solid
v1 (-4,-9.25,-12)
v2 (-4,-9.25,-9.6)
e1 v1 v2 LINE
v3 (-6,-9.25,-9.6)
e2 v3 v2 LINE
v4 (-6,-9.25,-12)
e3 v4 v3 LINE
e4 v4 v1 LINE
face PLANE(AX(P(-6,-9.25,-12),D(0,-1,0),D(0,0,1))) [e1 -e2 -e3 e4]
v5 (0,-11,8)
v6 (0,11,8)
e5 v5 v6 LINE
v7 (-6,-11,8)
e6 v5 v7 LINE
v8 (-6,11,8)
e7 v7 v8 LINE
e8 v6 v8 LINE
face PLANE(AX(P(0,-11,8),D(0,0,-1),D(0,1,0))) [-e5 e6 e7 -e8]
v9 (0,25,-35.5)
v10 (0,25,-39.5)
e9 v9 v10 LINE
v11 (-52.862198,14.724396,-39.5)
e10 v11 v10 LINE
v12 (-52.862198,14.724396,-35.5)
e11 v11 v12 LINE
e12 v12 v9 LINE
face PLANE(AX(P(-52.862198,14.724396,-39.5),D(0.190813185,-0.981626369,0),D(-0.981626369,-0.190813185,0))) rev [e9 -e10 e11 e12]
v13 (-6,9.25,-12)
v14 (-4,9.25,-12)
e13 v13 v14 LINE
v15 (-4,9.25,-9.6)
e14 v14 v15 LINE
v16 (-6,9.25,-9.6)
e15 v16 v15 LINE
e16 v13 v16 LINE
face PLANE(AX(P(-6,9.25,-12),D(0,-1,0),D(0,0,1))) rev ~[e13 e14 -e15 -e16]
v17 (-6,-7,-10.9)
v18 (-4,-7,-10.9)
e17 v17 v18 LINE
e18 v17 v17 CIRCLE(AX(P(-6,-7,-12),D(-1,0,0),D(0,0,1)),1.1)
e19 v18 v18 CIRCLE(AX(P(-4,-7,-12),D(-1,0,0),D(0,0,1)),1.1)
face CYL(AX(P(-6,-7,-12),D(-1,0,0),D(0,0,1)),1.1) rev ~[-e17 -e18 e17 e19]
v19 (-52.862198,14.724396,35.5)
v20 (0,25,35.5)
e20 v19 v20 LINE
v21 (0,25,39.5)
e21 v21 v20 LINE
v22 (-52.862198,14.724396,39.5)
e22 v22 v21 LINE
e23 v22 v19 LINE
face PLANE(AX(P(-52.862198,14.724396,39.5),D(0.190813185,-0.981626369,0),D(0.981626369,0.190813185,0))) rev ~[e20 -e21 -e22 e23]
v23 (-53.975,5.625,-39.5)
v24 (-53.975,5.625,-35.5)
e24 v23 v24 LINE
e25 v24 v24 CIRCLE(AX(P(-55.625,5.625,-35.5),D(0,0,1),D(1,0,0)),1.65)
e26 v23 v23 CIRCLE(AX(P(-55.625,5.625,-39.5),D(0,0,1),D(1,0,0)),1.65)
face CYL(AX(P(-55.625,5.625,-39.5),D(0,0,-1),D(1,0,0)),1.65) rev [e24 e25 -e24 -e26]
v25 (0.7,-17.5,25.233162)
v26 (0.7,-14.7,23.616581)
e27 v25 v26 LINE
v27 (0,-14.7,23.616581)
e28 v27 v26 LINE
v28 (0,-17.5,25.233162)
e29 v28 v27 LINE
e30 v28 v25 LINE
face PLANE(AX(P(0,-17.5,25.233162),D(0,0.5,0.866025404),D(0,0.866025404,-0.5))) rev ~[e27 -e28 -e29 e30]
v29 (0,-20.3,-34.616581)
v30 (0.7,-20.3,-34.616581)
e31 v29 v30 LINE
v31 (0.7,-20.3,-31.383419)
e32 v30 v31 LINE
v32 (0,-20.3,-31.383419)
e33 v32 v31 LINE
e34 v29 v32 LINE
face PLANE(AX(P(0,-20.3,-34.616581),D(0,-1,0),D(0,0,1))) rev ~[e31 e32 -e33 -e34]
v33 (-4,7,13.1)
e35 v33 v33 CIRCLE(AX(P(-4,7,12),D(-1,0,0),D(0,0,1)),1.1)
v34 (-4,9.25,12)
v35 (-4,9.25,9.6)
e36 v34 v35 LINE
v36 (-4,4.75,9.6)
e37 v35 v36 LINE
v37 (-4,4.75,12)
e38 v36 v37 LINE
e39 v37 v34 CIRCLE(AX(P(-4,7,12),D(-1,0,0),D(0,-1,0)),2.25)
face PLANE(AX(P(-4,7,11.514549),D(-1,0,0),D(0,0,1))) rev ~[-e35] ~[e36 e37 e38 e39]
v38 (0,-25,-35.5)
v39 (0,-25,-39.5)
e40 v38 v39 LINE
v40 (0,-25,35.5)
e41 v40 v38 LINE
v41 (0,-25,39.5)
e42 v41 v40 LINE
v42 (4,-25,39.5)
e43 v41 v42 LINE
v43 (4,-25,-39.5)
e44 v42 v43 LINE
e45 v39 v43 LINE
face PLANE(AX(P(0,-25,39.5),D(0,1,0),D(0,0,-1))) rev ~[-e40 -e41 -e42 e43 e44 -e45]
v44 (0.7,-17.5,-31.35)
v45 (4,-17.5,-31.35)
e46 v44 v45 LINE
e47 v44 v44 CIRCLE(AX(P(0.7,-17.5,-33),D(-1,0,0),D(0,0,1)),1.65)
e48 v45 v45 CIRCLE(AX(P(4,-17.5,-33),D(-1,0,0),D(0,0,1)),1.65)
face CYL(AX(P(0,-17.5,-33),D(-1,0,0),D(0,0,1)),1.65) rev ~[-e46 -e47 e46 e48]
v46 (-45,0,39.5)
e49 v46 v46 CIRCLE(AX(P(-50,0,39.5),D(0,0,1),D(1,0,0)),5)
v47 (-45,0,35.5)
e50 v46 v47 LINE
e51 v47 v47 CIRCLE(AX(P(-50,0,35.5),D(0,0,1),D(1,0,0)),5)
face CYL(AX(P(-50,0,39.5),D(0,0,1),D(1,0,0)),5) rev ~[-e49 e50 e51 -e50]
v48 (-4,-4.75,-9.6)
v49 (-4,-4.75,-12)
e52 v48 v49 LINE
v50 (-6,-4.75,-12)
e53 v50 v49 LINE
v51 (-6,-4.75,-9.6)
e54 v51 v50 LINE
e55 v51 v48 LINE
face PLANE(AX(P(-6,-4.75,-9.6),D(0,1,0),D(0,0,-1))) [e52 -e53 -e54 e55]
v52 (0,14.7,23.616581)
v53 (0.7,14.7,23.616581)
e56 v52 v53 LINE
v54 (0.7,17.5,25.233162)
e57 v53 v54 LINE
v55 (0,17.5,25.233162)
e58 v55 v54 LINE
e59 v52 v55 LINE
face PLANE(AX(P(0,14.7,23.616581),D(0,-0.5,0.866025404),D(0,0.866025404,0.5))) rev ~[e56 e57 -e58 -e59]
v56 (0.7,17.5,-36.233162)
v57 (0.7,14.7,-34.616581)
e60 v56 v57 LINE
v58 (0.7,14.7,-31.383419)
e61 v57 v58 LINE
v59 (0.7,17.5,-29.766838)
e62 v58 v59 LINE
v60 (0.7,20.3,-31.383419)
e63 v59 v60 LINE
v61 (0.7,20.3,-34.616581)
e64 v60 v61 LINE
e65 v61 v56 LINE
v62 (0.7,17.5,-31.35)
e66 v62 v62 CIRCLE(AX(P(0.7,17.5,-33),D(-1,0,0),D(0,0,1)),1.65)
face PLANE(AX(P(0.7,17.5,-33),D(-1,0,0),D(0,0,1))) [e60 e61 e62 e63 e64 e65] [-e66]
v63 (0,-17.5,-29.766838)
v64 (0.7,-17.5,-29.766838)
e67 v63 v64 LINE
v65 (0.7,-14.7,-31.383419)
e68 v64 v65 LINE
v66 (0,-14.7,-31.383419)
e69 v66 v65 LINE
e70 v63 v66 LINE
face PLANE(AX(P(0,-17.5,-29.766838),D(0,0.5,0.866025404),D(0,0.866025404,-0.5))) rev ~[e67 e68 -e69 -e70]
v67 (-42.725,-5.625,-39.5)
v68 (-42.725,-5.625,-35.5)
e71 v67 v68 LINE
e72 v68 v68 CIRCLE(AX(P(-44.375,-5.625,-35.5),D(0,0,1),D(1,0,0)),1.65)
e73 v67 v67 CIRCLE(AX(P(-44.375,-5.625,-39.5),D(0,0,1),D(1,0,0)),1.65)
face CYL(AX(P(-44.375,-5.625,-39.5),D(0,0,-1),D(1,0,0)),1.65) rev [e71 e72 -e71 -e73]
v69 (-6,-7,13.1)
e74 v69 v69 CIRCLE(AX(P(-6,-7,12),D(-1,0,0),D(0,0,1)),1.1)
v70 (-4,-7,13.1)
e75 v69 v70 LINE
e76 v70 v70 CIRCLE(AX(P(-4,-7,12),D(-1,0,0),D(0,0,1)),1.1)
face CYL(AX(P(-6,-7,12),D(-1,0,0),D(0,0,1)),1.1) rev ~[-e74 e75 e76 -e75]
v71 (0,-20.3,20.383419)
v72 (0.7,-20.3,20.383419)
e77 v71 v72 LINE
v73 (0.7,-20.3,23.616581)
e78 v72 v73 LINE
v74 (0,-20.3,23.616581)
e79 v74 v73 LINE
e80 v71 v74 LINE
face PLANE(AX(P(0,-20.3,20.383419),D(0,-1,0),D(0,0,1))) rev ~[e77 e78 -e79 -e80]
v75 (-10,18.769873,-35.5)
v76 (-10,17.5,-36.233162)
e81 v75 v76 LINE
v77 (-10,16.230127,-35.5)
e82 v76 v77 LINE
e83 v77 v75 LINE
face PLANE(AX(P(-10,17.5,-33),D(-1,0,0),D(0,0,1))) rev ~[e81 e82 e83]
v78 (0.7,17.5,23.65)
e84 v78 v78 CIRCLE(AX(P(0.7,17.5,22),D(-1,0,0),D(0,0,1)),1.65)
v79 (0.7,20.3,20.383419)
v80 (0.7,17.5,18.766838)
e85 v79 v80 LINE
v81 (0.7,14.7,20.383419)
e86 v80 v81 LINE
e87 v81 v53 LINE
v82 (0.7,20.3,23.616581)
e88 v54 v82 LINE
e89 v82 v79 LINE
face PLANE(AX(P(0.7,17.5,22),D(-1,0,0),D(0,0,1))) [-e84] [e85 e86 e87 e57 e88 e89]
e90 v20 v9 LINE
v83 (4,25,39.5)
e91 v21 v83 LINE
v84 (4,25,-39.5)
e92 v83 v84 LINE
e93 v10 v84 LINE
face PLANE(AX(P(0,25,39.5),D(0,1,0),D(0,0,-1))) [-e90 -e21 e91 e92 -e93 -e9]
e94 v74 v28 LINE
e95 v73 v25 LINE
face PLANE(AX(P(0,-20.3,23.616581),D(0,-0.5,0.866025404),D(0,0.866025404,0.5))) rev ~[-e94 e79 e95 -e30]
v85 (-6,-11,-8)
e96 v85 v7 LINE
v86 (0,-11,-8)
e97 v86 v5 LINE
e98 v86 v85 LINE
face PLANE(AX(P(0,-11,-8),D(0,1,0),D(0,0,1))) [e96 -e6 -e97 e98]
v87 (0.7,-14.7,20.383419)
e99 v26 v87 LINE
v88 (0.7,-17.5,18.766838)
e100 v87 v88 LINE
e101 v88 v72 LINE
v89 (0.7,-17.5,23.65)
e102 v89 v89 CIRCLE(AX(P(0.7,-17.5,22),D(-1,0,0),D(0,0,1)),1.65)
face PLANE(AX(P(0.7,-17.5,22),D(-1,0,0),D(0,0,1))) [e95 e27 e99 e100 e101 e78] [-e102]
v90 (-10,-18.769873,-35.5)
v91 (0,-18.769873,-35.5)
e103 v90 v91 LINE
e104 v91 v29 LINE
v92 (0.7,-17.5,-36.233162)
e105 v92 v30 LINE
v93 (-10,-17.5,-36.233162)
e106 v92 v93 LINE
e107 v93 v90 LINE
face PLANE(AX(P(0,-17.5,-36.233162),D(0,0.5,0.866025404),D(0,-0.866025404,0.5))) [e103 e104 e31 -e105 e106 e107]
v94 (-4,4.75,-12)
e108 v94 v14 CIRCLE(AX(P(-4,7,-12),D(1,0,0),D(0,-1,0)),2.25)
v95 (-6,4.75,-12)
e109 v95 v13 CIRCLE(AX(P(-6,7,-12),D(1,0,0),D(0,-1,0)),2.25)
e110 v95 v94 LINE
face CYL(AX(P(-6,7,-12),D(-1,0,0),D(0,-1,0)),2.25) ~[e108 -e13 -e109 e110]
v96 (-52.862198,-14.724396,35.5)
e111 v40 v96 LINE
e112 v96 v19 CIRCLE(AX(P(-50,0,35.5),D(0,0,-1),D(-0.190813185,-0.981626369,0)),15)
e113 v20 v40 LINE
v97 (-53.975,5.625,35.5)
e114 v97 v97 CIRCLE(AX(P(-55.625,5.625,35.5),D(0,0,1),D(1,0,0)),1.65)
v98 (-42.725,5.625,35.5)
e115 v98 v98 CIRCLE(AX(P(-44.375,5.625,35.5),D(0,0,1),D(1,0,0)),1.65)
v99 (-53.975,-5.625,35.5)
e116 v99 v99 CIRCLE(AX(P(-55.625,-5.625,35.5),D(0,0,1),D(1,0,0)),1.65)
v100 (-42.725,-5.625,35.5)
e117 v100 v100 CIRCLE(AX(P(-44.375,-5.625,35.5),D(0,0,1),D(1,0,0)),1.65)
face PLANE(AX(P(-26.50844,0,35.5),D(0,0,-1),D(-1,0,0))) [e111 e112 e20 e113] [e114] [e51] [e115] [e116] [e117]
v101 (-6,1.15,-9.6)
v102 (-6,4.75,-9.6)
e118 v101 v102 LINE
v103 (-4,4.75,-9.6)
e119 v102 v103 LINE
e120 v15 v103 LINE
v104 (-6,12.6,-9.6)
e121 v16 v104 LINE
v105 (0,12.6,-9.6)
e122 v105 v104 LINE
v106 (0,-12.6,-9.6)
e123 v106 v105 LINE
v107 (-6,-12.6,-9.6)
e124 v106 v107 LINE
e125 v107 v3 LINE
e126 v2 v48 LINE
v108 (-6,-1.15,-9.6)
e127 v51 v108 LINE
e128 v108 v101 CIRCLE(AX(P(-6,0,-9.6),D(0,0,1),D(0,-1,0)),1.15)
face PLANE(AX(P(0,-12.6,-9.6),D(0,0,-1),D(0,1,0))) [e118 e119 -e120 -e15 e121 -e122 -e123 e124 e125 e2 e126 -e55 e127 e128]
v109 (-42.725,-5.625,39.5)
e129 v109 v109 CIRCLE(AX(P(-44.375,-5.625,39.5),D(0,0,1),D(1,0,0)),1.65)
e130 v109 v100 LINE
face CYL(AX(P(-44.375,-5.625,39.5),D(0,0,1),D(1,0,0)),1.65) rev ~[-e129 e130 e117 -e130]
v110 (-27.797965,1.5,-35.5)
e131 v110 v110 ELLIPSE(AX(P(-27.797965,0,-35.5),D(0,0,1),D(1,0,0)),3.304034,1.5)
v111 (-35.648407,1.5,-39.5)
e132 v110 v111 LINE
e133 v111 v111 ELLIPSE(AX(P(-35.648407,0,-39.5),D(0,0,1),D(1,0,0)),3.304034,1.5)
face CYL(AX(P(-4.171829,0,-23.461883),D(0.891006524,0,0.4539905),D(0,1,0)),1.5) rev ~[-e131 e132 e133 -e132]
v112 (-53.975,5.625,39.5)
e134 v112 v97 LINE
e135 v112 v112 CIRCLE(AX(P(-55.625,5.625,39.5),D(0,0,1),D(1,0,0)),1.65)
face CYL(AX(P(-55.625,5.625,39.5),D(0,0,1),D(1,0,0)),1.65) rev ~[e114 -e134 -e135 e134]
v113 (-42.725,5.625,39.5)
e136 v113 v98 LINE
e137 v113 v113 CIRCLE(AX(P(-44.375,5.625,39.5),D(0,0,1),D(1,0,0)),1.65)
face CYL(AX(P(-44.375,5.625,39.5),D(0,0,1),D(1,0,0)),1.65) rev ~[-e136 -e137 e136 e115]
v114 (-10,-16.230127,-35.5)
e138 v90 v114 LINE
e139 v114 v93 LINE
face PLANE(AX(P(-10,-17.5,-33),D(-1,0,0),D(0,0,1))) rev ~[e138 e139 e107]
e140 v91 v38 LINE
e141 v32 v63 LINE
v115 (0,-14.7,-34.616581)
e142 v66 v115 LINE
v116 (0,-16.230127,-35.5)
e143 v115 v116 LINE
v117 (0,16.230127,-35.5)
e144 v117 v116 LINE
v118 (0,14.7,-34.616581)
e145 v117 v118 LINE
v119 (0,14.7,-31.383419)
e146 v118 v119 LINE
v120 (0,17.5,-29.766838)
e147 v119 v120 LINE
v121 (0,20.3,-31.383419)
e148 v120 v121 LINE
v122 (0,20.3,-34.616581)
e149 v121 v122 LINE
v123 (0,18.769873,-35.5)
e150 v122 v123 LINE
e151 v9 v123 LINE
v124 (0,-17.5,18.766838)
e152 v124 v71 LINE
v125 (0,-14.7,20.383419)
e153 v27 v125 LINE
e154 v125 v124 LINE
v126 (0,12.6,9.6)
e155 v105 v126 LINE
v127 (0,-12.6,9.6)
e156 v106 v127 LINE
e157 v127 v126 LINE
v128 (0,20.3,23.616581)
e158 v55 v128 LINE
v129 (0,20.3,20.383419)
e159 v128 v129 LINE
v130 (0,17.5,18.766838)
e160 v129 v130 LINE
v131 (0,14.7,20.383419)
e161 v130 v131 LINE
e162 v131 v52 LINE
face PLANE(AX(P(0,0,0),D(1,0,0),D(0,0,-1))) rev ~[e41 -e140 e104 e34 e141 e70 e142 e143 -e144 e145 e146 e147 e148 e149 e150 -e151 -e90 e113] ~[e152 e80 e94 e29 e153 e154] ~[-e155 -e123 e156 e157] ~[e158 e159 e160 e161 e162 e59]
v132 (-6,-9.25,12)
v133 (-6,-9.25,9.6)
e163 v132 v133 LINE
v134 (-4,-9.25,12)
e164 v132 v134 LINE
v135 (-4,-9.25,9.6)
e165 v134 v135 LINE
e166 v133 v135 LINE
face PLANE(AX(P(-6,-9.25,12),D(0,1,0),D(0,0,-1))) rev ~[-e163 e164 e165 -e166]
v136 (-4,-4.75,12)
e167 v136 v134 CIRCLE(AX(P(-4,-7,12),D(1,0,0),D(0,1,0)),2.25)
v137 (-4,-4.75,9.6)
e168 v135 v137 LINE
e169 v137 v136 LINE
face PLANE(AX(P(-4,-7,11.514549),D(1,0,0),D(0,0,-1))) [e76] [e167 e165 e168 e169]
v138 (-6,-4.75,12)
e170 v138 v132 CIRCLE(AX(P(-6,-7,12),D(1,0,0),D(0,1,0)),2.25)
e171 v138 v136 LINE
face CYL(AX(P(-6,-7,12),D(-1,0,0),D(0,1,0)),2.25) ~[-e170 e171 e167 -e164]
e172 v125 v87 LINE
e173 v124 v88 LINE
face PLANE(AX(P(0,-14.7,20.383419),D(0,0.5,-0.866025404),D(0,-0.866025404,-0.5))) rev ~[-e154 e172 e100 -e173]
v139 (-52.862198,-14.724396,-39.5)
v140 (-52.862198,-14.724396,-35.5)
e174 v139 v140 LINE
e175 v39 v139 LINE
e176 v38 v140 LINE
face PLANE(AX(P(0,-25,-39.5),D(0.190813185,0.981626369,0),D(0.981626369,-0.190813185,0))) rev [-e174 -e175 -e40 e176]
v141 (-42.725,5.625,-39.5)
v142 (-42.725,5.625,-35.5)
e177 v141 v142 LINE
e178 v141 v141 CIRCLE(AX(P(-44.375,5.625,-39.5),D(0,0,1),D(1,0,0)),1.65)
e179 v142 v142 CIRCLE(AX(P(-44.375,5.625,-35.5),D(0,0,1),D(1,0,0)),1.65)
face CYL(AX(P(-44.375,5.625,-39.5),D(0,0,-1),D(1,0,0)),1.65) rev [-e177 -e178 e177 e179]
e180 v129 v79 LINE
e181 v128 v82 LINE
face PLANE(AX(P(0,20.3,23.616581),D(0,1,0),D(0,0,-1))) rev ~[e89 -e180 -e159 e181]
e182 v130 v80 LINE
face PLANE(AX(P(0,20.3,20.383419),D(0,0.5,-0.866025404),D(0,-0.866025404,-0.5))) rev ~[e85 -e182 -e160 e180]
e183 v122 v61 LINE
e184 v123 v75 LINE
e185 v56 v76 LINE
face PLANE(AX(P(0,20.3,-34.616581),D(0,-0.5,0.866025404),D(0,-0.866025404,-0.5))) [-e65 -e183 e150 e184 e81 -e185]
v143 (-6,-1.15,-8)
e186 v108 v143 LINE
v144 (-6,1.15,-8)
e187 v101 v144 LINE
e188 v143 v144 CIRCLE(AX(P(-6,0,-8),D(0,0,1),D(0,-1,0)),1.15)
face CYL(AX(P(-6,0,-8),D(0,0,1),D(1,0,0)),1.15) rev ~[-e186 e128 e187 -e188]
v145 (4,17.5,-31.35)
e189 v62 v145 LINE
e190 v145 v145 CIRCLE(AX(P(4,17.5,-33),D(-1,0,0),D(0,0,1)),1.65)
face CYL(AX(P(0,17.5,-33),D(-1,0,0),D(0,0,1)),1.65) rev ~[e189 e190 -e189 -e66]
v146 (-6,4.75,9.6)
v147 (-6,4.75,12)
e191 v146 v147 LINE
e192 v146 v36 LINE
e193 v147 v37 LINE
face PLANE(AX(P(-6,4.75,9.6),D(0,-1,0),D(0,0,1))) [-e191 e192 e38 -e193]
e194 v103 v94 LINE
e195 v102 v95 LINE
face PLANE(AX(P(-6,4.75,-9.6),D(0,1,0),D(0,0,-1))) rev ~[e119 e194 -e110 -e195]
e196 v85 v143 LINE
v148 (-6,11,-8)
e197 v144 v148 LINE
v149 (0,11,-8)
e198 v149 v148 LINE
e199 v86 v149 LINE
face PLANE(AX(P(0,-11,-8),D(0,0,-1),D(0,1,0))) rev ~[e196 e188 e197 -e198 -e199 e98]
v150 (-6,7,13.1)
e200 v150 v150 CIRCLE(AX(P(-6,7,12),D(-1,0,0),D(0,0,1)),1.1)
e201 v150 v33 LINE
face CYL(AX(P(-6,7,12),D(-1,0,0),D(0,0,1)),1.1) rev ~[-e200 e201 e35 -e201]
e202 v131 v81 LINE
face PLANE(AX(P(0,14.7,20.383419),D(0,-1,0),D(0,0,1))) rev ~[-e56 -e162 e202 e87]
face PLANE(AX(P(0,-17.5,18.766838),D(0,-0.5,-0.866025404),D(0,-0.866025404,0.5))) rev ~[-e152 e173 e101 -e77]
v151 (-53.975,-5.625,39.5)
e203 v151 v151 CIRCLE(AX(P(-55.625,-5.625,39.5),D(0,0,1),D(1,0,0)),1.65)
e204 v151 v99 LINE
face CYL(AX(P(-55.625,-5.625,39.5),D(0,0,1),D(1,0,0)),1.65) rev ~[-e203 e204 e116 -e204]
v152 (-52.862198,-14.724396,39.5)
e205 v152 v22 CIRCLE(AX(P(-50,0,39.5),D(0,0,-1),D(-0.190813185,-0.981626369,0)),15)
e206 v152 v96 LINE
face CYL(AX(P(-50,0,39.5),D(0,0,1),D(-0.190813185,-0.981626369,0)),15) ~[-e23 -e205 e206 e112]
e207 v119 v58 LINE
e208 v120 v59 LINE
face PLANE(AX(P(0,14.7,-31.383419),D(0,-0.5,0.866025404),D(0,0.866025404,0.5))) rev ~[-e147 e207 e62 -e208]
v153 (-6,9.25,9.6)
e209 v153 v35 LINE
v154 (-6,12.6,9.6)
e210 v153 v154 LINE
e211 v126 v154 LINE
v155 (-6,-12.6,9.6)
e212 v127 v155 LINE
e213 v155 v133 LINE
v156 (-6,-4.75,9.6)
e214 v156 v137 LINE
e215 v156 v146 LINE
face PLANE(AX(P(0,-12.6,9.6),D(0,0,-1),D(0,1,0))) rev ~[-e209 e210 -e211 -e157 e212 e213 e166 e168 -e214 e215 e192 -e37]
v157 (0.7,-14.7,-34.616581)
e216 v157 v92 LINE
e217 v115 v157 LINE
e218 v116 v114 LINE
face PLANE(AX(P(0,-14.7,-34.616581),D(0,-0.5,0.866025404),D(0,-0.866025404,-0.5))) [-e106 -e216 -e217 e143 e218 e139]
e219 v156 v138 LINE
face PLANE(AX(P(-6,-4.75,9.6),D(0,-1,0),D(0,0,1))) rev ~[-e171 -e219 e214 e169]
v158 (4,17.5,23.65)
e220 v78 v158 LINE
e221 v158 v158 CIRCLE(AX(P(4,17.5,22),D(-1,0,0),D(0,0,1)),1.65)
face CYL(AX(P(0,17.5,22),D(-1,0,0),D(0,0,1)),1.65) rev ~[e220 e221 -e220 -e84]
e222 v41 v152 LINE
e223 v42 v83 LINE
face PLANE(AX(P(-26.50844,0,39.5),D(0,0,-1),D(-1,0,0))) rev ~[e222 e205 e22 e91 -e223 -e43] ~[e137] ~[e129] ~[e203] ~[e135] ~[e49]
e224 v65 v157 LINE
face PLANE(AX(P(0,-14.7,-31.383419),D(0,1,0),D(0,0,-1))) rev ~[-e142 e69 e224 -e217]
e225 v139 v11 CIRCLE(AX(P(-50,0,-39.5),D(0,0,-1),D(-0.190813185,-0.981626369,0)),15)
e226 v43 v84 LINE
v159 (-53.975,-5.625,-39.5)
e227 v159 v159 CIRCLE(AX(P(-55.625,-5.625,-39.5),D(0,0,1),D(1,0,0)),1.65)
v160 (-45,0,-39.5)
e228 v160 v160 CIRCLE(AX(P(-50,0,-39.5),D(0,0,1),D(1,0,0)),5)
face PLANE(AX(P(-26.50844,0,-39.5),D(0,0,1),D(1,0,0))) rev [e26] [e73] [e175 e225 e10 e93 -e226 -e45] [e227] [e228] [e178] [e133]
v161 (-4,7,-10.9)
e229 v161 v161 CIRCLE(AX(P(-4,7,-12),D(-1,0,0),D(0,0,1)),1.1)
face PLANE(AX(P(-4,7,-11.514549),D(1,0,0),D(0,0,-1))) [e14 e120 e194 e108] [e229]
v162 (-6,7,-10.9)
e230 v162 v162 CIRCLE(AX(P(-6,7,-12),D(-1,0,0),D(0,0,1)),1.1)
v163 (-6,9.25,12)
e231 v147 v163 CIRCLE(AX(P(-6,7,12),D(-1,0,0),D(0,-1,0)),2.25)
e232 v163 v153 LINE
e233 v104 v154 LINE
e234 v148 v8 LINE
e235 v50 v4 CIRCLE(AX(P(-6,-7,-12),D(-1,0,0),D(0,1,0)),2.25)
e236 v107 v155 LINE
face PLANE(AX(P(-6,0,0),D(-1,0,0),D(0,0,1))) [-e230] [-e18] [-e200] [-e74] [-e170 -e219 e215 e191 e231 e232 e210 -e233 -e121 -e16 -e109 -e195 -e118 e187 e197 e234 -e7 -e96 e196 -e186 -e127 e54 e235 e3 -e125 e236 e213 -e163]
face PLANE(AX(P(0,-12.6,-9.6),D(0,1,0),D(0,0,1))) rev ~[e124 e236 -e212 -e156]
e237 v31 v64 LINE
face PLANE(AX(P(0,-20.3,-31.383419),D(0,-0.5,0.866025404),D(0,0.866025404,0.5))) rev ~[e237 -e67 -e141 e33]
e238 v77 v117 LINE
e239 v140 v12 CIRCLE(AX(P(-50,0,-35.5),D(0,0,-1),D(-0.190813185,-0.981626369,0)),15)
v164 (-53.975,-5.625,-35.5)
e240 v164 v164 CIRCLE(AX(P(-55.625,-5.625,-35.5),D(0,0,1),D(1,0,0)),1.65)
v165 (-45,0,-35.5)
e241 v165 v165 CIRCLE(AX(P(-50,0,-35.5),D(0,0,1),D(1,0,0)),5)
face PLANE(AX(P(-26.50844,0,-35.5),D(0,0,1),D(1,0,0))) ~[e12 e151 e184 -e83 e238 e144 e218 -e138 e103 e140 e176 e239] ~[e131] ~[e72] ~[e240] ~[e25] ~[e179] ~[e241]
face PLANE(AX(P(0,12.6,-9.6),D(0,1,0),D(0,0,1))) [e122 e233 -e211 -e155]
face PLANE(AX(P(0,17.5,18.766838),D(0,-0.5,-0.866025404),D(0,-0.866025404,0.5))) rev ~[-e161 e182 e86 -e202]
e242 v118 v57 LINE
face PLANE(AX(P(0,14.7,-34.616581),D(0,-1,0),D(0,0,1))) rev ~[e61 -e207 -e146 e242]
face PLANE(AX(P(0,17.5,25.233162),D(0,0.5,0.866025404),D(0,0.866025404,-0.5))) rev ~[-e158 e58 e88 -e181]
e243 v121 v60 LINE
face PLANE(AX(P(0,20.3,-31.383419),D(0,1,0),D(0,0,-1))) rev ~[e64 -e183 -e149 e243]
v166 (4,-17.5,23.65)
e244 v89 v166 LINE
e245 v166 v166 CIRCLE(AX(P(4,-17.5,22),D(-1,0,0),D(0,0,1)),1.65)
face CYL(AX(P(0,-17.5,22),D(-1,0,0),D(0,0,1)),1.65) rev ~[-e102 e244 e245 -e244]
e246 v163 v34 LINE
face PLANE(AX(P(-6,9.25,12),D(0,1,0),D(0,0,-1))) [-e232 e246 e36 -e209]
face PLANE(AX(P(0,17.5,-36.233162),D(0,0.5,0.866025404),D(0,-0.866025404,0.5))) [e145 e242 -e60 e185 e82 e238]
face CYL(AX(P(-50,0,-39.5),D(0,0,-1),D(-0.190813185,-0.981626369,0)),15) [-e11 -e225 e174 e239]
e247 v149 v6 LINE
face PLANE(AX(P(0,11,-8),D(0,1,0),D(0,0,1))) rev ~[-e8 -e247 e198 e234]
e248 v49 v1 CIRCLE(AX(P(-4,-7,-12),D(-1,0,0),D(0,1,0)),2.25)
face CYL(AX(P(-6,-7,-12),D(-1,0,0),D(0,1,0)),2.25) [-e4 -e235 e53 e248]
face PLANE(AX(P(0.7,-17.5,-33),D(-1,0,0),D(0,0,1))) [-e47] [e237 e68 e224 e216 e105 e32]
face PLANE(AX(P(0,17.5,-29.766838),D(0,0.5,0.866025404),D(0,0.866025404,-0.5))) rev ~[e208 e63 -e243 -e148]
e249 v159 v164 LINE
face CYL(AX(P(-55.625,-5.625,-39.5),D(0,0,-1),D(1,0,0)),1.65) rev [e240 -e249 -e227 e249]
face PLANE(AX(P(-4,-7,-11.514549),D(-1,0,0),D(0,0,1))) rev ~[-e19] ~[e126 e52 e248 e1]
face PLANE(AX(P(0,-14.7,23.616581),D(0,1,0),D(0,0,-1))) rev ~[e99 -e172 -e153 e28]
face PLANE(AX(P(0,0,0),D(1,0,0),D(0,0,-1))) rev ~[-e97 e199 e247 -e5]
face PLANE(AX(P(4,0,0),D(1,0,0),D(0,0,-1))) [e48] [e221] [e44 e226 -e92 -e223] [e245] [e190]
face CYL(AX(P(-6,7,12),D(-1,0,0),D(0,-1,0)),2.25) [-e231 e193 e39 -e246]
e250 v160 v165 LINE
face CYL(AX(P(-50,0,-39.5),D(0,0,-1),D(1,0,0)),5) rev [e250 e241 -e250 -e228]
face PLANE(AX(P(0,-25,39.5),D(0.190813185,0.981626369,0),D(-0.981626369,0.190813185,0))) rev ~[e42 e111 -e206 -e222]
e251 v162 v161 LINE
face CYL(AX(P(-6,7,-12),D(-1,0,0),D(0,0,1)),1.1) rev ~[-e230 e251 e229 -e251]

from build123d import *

# Parameters (mm, degrees)
SKETCH_2_W               = 79
SKETCH_2_H               = 50
EXTRUDE_1_DEPTH          = 4
SKETCH_3_R               = 5
SKETCH_3_R_2             = 1.65
EXTRUDE_2_DEPTH          = 4
SKETCH_4_W               = 19.2
SKETCH_4_H               = 25.2
SKETCH_4_W_2             = 16
SKETCH_4_H_2             = 22
EXTRUDE_3_DEPTH          = 6
SKETCH_5_R               = 1.1
EXTRUDE_4_DEPTH          = 2
SKETCH_6_R               = 1.15
CUT_EXTRUDE_1_DEPTH      = 2
SKETCH_7_R               = 1.5
CUT_EXTRUDE_2_DEPTH      = 69
SKETCH_8_R               = 1.65
CUT_EXTRUDE_3_DEPTH      = 5
CUT_EXTRUDE_4_DEPTH      = 10
CUT_EXTRUDE_4_DEPTH_BACK = 0.7


with BuildPart() as part:
    # 草图2 → 凸台-拉伸1 (new body)
    with BuildSketch(Plane(origin=(0, 0, 0), x_dir=(0, 0, -1), z_dir=(1, 0, 0))):
        Rectangle(SKETCH_2_W, SKETCH_2_H)
    extrude(amount=EXTRUDE_1_DEPTH)

    # 草图3 → 凸台-拉伸2 (add)
    with BuildSketch(Plane.XY.offset(39.5)):
        with BuildLine():
            Line((-52.862197769, 14.724395537), (0, 25))
            Line((0, 25), (0, -25))
            Line((0, -25), (-52.862197769, -14.724395537))
            ThreePointArc((-52.862197769, -14.724395537), (-65, 0), (-52.862197769, 14.724395537))
        make_face()
        with Locations((-50, 0)):
            Circle(SKETCH_3_R, mode=Mode.SUBTRACT)
        with Locations((-55.625, 5.625)):
            Circle(SKETCH_3_R_2, mode=Mode.SUBTRACT)
        with Locations((-44.375, 5.625)):
            Circle(SKETCH_3_R_2, mode=Mode.SUBTRACT)
        with Locations((-44.375, -5.625)):
            Circle(SKETCH_3_R_2, mode=Mode.SUBTRACT)
        with Locations((-55.625, -5.625)):
            Circle(SKETCH_3_R_2, mode=Mode.SUBTRACT)
    extrude_2 = extrude(amount=-EXTRUDE_2_DEPTH)

    # 镜向1: 凸台-拉伸2 across plane
    add(extrude_2.mirror(Plane.XY))

    # 草图4 → 凸台-拉伸3 (add)
    with BuildSketch(Plane.ZY):
        Rectangle(SKETCH_4_W, SKETCH_4_H)
        Rectangle(SKETCH_4_W_2, SKETCH_4_H_2, mode=Mode.SUBTRACT)
    extrude(amount=EXTRUDE_3_DEPTH)

    # 草图5 → 凸台-拉伸4 (add)
    with BuildSketch(Plane.ZY.offset(6)):
        with BuildLine():
            Line((12, 9.25), (9.6, 9.25))
            Line((9.6, 9.25), (9.6, 4.75))
            Line((9.6, 4.75), (12, 4.75))
            ThreePointArc((12, 4.75), (14.25, 7), (12, 9.25))
        make_face()
        with Locations((12, 7)):
            Circle(SKETCH_5_R, mode=Mode.SUBTRACT)
        with BuildLine():
            Line((9.6, -9.25), (9.6, -4.75))
            Line((9.6, -4.75), (12, -4.75))
            ThreePointArc((12, -4.75), (14.25, -7), (12, -9.25))
            Line((12, -9.25), (9.6, -9.25))
        make_face()
        with Locations((12, -7)):
            Circle(SKETCH_5_R, mode=Mode.SUBTRACT)
        with BuildLine():
            Line((-12, -9.25), (-9.6, -9.25))
            Line((-9.6, -9.25), (-9.6, -4.75))
            Line((-9.6, -4.75), (-12, -4.75))
            ThreePointArc((-12, -4.75), (-14.25, -7), (-12, -9.25))
        make_face()
        with Locations((-12, -7)):
            Circle(SKETCH_5_R, mode=Mode.SUBTRACT)
        with BuildLine():
            Line((-9.6, 9.25), (-9.6, 4.75))
            Line((-9.6, 4.75), (-12, 4.75))
            ThreePointArc((-12, 4.75), (-14.25, 7), (-12, 9.25))
            Line((-12, 9.25), (-9.6, 9.25))
        make_face()
        with Locations((-12, 7)):
            Circle(SKETCH_5_R, mode=Mode.SUBTRACT)
    extrude(amount=-EXTRUDE_4_DEPTH)

    # 草图6 → 切除-拉伸1 (cut)
    with BuildSketch(Plane.XY.offset(-8)):
        with Locations((-6, 0)):
            Circle(SKETCH_6_R)
    extrude(amount=-CUT_EXTRUDE_1_DEPTH, mode=Mode.SUBTRACT)

    # 草图7 → 切除-拉伸2 (cut)
    with BuildSketch(Plane(origin=(-12.802515134, 0, -6.523207278), x_dir=(0, 1, 0), z_dir=(0.891006524, 0, 0.4539905))):
        with Locations((0, -19.010719704)):
            Circle(SKETCH_7_R)
    extrude(amount=-CUT_EXTRUDE_2_DEPTH, mode=Mode.SUBTRACT)

    # 草图8 → 切除-拉伸3 (cut, through all)
    with BuildSketch(Plane.ZY):
        with Locations((-33, 17.5)):
            Circle(SKETCH_8_R)
        with Locations((22, 17.5)):
            Circle(SKETCH_8_R)
        with Locations((22, -17.5)):
            Circle(SKETCH_8_R)
        with Locations((-33, -17.5)):
            Circle(SKETCH_8_R)
    extrude(amount=-CUT_EXTRUDE_3_DEPTH, mode=Mode.SUBTRACT)

    # 草图9 → 切除-拉伸4 (cut, two sides)
    with BuildSketch(Plane.ZY) as cut_extrude_4_sk:
        Polygon((-31.383419246, 14.7), (-29.766838493, 17.5), (-31.383419246, 20.3), (-34.616580754, 20.3), (-36.233161507, 17.5), (-34.616580754, 14.7), align=None)
        Polygon((-29.766838493, -17.5), (-31.383419246, -14.7), (-34.616580754, -14.7), (-36.233161507, -17.5), (-34.616580754, -20.3), (-31.383419246, -20.3), align=None)
        Polygon((23.616580754, -14.7), (20.383419246, -14.7), (18.766838493, -17.5), (20.383419246, -20.3), (23.616580754, -20.3), (25.233161507, -17.5), align=None)
        Polygon((25.233161507, 17.5), (23.616580754, 20.3), (20.383419246, 20.3), (18.766838493, 17.5), (20.383419246, 14.7), (23.616580754, 14.7), align=None)
    extrude(amount=CUT_EXTRUDE_4_DEPTH, mode=Mode.SUBTRACT)
    extrude(cut_extrude_4_sk.sketch, amount=-CUT_EXTRUDE_4_DEPTH_BACK, mode=Mode.SUBTRACT)


solid = part.part
